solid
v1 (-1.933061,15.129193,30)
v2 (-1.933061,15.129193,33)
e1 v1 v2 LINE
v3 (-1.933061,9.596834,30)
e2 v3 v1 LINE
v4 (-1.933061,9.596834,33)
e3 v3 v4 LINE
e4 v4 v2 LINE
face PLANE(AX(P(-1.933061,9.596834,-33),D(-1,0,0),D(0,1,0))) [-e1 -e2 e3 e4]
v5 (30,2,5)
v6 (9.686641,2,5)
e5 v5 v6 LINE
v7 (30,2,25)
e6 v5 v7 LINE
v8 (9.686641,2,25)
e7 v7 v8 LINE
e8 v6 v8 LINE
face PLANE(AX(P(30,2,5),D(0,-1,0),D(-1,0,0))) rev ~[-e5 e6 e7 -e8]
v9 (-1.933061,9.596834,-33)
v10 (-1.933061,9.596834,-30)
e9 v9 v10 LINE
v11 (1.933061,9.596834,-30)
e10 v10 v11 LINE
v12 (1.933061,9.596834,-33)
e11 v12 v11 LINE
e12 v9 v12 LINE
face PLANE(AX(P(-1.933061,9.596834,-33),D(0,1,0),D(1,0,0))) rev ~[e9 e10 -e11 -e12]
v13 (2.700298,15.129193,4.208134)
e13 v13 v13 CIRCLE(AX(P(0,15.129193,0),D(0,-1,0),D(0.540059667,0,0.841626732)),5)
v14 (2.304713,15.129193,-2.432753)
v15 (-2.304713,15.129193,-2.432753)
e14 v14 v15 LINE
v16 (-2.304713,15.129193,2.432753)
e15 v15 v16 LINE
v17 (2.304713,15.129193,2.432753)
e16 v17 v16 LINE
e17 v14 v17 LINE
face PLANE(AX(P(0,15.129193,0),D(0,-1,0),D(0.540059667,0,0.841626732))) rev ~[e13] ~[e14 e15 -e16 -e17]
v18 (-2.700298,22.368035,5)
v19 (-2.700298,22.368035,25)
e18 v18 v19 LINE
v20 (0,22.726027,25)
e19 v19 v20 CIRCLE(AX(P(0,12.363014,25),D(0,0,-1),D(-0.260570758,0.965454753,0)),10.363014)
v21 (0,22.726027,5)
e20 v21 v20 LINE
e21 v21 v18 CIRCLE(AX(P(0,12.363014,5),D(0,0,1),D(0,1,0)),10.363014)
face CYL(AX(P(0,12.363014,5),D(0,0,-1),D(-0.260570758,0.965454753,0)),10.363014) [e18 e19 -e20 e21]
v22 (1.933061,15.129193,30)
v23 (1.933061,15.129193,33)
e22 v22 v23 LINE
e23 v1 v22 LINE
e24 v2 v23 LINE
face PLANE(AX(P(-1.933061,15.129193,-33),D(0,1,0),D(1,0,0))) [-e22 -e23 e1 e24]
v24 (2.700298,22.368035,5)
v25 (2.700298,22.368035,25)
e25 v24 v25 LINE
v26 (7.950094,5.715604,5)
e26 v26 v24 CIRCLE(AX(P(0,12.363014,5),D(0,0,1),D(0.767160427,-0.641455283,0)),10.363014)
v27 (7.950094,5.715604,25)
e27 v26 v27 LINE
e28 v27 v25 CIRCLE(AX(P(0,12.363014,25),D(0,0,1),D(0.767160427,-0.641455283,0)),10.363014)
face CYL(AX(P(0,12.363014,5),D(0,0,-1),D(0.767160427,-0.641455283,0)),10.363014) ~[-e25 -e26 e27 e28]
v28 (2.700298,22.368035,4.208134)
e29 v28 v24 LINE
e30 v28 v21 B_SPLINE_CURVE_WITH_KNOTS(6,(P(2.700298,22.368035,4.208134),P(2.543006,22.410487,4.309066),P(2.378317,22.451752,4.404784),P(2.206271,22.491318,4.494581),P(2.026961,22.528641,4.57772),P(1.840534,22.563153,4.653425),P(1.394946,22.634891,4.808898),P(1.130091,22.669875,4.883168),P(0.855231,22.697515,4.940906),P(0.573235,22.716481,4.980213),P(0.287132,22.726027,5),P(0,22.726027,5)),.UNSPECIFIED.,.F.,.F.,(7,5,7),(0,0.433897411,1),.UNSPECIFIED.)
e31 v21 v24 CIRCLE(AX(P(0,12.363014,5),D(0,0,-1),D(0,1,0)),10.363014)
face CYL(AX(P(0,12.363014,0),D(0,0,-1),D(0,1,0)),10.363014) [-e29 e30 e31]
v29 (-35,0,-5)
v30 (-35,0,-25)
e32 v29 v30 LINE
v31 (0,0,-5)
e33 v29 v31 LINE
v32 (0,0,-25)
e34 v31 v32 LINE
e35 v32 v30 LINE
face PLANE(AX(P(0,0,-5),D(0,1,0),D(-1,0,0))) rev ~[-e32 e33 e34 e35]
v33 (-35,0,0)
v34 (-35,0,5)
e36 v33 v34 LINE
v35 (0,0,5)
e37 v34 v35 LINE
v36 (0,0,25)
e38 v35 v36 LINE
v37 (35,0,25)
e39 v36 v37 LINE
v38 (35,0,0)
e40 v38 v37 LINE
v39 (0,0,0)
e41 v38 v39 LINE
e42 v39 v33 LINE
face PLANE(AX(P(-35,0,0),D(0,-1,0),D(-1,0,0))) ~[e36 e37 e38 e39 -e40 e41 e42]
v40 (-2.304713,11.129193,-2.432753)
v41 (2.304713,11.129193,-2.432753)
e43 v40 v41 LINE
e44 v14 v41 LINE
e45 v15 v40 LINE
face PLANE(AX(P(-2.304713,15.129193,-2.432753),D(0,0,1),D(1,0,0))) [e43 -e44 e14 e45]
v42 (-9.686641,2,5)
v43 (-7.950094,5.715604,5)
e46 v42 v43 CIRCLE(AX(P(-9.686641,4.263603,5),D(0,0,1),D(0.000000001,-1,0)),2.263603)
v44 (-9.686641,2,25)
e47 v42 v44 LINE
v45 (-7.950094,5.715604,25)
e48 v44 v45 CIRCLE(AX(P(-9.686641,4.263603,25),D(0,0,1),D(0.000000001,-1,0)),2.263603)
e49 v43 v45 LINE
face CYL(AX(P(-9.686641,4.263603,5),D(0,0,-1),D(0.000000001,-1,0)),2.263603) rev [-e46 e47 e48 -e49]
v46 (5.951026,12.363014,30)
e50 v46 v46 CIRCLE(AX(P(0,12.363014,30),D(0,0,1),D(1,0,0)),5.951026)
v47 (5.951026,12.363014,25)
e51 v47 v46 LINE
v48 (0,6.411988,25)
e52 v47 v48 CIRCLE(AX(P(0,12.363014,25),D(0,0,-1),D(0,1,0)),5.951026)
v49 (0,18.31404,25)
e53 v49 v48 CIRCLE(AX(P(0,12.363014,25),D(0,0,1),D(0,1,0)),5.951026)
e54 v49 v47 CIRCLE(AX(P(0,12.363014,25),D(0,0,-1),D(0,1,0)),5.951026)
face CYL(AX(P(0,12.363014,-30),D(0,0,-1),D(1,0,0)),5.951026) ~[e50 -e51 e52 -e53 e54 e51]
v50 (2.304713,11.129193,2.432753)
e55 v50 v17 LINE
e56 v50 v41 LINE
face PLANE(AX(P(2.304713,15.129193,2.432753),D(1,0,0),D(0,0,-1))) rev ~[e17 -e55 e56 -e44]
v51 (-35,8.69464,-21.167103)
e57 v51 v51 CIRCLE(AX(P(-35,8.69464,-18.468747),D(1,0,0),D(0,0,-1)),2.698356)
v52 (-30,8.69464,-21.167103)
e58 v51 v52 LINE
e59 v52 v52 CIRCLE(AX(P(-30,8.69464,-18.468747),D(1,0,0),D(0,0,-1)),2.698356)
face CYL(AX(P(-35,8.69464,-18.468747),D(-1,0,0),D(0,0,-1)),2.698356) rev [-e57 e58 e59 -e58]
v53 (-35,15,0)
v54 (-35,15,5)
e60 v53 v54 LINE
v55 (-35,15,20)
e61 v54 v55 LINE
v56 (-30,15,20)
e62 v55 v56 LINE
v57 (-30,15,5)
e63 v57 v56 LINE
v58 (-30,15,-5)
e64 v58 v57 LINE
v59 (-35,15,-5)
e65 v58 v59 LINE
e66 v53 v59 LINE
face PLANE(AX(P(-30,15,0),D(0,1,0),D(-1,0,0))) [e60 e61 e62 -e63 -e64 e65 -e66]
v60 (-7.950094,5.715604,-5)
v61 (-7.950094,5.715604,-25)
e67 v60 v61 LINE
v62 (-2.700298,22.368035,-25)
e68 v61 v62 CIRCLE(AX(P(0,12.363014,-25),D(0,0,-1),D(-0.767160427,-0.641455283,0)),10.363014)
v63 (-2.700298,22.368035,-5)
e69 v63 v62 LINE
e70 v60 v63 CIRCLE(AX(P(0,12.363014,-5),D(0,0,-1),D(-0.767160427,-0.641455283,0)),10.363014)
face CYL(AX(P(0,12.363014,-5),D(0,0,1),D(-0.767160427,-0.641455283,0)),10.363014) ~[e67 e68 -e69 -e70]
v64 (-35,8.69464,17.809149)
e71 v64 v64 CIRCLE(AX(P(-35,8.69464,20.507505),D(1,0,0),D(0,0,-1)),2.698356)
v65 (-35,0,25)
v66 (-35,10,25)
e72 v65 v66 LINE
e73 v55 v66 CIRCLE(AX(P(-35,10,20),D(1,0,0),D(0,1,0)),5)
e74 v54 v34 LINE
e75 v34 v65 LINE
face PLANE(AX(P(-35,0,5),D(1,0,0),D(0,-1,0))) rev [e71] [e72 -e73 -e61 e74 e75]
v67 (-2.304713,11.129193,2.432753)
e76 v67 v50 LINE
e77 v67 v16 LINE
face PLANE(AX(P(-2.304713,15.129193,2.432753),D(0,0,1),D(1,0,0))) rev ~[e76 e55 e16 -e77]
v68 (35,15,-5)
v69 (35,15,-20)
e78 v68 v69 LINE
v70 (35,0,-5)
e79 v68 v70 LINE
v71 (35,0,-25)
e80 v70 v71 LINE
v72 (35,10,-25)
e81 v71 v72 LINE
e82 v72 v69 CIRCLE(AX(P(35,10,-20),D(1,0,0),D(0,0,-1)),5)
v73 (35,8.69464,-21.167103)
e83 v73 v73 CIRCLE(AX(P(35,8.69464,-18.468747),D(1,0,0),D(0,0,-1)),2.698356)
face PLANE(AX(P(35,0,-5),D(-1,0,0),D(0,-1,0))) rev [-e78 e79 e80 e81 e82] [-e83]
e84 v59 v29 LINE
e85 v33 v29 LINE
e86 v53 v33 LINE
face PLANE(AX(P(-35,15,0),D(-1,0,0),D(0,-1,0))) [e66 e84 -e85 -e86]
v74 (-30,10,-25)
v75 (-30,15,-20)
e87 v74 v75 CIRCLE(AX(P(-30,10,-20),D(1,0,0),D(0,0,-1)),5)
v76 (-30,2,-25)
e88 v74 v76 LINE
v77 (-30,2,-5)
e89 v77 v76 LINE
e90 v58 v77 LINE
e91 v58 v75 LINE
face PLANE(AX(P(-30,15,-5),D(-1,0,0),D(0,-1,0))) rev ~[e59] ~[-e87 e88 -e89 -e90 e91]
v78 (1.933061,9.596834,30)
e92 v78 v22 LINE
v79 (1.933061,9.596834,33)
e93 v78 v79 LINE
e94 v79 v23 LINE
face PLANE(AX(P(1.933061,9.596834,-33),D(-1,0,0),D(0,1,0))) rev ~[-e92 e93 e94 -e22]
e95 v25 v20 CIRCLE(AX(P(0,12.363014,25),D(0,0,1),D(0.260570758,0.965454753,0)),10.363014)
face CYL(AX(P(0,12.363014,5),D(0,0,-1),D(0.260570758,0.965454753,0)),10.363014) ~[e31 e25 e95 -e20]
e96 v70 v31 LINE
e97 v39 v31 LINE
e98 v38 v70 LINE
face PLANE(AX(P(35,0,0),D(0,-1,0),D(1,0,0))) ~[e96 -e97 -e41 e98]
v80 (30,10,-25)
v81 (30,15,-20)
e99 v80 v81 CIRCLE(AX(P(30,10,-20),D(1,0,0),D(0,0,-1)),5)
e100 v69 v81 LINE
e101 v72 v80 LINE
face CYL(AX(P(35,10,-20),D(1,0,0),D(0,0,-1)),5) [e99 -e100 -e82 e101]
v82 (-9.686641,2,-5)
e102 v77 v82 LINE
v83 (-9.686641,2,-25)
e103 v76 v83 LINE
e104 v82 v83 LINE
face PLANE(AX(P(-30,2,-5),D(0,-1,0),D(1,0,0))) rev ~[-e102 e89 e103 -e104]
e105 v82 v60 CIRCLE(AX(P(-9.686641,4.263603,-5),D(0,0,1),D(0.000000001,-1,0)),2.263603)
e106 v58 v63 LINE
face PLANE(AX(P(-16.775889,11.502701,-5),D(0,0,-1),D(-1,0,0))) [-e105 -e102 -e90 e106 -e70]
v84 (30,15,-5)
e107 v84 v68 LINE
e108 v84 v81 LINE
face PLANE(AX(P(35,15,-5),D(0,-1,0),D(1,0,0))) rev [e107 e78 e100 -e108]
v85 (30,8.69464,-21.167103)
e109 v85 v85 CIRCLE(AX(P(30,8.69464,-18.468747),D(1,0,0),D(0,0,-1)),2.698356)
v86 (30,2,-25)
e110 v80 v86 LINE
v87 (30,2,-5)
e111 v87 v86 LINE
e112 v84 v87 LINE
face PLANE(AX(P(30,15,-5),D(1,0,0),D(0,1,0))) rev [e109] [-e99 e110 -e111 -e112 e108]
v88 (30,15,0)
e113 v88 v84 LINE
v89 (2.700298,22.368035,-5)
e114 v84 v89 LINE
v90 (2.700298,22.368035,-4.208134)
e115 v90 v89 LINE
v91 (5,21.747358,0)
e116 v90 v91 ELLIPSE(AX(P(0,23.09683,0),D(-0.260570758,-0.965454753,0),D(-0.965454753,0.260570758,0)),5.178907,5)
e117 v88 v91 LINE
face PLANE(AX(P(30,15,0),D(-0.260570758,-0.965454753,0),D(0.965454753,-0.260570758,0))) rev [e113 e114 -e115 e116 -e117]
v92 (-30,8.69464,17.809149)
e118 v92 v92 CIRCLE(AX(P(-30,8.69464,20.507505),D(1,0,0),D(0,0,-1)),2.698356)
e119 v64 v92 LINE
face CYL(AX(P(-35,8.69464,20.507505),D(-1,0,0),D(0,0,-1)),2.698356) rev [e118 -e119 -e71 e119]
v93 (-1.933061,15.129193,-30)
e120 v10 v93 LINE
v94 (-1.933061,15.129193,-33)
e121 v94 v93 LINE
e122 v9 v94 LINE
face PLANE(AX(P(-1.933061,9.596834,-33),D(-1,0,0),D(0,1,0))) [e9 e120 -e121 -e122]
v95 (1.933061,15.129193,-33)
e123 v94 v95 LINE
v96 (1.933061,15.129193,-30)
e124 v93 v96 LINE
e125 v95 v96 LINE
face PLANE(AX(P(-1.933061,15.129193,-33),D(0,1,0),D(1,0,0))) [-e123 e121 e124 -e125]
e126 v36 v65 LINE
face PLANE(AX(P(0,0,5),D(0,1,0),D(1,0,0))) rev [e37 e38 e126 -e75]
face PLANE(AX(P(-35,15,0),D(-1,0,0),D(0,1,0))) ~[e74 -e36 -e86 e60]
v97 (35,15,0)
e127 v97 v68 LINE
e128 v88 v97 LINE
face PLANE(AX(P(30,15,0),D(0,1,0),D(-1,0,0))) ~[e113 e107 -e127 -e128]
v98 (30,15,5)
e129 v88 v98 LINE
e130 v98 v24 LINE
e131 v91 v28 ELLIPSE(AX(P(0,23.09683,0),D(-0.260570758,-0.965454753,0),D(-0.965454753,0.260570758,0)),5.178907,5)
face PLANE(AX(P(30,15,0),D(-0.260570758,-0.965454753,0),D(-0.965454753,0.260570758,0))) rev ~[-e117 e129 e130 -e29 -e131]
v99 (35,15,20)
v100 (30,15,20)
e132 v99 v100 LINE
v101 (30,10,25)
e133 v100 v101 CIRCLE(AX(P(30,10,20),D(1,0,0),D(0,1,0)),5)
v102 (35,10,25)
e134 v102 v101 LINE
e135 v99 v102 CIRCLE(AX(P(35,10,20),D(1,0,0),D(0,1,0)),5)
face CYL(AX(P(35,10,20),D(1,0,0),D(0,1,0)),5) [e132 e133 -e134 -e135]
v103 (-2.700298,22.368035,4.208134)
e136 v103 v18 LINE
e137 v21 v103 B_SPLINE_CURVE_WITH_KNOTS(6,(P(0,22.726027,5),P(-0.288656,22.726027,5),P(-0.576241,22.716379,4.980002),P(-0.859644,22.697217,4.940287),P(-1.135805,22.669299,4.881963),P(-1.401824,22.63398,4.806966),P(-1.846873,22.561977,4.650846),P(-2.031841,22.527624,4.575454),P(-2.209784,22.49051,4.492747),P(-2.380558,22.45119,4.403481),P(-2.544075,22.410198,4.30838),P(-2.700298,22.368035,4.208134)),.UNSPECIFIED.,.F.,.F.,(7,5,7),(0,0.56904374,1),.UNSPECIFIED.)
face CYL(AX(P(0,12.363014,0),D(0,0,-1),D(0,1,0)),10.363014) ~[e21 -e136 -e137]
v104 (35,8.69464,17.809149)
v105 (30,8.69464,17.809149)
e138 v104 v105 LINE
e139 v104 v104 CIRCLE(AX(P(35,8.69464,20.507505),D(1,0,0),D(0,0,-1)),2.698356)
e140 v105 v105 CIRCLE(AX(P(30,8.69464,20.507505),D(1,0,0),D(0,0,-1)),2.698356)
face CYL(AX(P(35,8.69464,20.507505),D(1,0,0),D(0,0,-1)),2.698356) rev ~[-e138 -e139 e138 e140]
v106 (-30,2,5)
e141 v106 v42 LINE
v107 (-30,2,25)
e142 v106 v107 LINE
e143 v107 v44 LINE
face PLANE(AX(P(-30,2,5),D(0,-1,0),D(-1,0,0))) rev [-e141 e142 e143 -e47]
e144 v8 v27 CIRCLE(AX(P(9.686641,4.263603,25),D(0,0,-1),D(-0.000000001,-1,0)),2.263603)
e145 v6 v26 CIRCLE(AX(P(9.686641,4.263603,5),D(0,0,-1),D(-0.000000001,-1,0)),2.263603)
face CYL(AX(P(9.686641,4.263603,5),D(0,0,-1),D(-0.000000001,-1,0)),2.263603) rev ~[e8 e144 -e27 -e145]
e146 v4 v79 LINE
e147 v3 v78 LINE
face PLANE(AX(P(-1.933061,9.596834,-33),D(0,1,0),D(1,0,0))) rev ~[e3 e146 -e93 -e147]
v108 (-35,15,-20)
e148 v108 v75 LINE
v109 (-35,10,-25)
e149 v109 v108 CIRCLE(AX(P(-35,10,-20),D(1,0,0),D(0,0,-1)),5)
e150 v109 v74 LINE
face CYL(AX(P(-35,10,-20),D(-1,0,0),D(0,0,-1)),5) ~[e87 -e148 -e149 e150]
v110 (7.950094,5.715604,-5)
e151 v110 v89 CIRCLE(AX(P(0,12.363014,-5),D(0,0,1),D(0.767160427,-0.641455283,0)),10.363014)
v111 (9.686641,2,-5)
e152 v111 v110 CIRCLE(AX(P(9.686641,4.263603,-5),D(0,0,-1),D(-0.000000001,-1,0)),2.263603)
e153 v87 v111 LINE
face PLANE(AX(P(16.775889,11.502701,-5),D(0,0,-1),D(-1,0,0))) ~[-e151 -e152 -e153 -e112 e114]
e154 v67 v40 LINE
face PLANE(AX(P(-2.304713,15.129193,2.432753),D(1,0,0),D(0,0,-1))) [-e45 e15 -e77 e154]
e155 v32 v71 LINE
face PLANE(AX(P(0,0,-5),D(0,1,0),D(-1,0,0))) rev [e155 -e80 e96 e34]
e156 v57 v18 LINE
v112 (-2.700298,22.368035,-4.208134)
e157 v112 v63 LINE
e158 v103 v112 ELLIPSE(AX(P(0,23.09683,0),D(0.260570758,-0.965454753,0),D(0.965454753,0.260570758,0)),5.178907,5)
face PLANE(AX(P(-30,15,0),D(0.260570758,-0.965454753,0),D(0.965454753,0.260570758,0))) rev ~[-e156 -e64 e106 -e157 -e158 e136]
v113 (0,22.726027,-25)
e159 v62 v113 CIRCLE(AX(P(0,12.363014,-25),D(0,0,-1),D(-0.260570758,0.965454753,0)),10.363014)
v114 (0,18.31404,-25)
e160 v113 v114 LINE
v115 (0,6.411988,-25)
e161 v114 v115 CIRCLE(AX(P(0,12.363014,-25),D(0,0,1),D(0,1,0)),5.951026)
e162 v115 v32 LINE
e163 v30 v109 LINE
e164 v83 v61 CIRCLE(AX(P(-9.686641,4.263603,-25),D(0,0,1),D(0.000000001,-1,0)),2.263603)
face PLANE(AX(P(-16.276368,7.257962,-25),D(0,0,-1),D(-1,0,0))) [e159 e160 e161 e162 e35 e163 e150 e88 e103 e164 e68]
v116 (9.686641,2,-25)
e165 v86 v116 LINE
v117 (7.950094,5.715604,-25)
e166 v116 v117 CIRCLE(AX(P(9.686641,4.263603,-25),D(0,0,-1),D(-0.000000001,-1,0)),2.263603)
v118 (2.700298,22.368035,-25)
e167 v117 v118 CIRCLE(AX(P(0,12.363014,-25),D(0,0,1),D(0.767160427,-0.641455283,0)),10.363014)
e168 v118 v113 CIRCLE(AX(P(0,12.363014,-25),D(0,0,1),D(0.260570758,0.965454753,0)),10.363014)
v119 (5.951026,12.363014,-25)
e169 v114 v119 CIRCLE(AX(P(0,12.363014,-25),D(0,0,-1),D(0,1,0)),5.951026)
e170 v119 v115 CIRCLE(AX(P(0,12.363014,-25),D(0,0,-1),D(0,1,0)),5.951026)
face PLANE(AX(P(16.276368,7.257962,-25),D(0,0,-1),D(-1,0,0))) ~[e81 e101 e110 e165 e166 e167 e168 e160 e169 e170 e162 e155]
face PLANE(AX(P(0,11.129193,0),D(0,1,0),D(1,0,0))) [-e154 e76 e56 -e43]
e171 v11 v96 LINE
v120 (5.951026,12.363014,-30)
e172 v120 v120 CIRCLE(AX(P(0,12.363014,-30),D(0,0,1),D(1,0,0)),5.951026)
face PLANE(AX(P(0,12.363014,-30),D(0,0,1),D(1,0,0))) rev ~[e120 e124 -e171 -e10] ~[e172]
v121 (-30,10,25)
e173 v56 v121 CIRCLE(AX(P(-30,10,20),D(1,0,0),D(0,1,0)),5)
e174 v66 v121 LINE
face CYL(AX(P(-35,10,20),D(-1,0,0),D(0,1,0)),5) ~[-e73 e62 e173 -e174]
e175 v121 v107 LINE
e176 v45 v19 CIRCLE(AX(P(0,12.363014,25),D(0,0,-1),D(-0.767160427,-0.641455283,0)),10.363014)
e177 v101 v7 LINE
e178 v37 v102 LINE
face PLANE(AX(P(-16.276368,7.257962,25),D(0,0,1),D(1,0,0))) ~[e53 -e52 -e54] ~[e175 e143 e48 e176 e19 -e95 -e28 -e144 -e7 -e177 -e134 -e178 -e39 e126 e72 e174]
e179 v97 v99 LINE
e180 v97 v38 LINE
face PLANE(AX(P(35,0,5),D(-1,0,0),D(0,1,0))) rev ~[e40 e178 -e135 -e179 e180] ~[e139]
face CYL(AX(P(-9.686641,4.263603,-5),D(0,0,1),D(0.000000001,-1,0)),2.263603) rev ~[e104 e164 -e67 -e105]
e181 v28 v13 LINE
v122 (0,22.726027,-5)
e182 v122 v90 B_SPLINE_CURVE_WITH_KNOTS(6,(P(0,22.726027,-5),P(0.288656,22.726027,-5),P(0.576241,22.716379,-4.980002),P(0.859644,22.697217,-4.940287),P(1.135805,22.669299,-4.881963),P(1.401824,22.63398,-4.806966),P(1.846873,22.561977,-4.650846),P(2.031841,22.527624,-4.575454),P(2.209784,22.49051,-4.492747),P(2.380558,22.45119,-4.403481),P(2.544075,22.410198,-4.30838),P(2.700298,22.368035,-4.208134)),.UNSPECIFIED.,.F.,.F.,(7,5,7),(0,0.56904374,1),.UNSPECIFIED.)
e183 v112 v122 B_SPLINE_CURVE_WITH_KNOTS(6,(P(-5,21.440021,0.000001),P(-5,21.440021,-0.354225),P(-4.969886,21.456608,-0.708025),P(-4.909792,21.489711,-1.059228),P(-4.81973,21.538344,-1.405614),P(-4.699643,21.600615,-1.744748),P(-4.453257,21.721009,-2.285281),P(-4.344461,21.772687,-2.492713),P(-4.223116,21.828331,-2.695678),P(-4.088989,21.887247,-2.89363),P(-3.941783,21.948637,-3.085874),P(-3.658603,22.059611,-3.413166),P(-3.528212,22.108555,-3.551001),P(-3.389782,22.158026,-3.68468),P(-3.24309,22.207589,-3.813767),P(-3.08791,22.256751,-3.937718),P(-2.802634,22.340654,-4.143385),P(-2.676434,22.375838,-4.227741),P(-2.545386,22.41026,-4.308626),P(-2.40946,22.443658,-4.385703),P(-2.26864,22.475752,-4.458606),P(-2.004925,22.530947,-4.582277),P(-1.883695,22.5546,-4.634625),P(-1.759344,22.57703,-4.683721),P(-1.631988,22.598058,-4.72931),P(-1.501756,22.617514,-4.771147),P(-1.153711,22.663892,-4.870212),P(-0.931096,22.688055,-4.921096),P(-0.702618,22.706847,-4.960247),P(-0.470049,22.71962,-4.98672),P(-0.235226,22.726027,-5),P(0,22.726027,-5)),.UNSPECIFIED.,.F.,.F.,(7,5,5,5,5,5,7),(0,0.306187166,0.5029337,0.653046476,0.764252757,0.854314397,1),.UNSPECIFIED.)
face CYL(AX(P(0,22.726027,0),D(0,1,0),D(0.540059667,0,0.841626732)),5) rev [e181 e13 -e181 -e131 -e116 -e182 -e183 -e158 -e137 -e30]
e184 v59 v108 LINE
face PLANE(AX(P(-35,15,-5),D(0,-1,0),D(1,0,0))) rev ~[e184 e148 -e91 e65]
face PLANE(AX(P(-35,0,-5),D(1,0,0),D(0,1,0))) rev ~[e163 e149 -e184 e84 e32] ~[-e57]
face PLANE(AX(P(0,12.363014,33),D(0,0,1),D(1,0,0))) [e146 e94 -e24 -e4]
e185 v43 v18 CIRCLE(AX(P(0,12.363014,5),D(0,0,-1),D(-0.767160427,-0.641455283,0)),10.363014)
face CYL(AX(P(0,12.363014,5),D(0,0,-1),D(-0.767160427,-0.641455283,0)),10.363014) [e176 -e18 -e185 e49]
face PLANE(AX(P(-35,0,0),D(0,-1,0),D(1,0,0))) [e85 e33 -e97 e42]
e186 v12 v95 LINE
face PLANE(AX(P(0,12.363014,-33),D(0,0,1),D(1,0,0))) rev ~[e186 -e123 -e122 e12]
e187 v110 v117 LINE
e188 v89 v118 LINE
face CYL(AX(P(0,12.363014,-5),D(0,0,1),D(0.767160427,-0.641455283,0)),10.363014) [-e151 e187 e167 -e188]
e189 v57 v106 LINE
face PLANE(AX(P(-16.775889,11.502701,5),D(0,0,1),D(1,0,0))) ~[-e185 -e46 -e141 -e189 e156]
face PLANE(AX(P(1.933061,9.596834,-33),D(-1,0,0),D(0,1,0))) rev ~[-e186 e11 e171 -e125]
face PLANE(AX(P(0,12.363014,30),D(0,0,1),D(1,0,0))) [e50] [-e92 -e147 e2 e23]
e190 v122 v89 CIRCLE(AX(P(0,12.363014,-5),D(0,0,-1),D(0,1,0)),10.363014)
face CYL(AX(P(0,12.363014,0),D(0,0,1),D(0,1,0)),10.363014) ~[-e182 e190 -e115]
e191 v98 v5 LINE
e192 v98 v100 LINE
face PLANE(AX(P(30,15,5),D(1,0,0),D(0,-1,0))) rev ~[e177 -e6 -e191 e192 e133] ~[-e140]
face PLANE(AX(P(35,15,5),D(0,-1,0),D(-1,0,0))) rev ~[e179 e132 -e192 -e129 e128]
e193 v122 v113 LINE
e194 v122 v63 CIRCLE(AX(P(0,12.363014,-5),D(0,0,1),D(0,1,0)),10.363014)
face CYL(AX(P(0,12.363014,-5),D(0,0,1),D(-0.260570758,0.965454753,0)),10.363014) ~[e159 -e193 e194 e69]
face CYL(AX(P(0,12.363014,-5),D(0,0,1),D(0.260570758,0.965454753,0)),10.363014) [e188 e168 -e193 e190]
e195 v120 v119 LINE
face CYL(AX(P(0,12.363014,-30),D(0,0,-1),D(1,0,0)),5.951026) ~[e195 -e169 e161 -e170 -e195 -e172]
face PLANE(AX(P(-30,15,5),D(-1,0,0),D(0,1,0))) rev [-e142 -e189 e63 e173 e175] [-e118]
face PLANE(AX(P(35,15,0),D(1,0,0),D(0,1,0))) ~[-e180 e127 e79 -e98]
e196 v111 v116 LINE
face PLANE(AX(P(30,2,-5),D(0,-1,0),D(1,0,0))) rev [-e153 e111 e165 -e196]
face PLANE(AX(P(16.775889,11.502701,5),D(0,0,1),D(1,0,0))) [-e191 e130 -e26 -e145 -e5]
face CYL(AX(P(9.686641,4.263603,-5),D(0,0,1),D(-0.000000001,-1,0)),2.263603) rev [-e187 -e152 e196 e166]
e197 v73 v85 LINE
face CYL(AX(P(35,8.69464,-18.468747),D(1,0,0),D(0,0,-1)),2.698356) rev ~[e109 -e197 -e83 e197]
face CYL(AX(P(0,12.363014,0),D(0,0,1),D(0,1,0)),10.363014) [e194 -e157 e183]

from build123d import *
from build123d.topology import SkipClean

# Parameters (mm, degrees)
BOSS_EXTRUDE1_DEPTH      = 5
BOSS_EXTRUDE2_DEPTH      = 20
MIRROR3_COPY_1_DEPTH     = 5
MIRROR3_COPY_2_DEPTH     = 20
SKETCH4_R                = 2.698355907
CUT_EXTRUDE1_DEPTH       = 5
BOSS_EXTRUDE3_DEPTH      = 5
BOSS_EXTRUDE3_DEPTH_BACK = 55
SKETCH8_R                = 5.951026126
SKETCH8_W                = 3.866122338
SKETCH8_H                = 5.532358837
BOSS_EXTRUDE5_DEPTH      = 3
BOSS_EXTRUDE5_DEPTH_BACK = 63
SKETCH10_W               = 3.866122338
SKETCH10_H               = 5.532358837
SKETCH12_R               = 5
CUT_EXTRUDE3_DEPTH       = 7.59683428
SKETCH14_W               = 4.609426796
SKETCH14_H               = 4.865506062
CUT_EXTRUDE6_DEPTH       = 4


with BuildPart() as part:
    # Sketch1 → Boss-Extrude1 (new body)
    with BuildSketch(Plane.XY):
        with BuildLine():
            Line((30, 2), (30, 15))
            Line((30, 15), (2.700298335, 22.368034529))
            ThreePointArc((2.700298335, 22.368034529), (9.883500212, 15.478856519), (7.950094011, 5.715603818))
            ThreePointArc((7.950094011, 5.715603818), (7.635951646, 3.305180914), (9.686640989, 2))
            Line((9.686640989, 2), (30, 2))
        make_face()
        with BuildLine():
            ThreePointArc((7.950094011, 5.715603818), (7.635951646, 3.305180914), (9.686640989, 2))
            Line((9.686640989, 2), (30, 2))
            Line((30, 2), (30, 15))
            Line((30, 15), (35, 15))
            Line((35, 15), (35, 0))
            Line((35, 0), (0, 0))
            Line((0, 0), (0, 2))
            Line((0, 2), (0, 6.411987573))
            ThreePointArc((0, 6.411987573), (5.951026126, 12.363013699), (0, 18.314039825))
            Line((0, 18.314039825), (0, 22.726027397))
            ThreePointArc((0, 22.726027397), (9.388270676, 16.750772424), (7.950094011, 5.715603818))
        make_face()
    boss_extrude1 = extrude(amount=BOSS_EXTRUDE1_DEPTH)

    # Sketch3 → Boss-Extrude2 (add)
    with BuildSketch(Plane.XY.offset(5)):
        with BuildLine():
            ThreePointArc((7.950094011, 5.715603818), (9.883500212, 15.478856519), (2.700298335, 22.368034529))
            ThreePointArc((2.700298335, 22.368034529), (1.361962737, 22.636139339), (0, 22.726027397))
            Line((0, 22.726027397), (0, 18.314039825))
            ThreePointArc((0, 18.314039825), (5.951026126, 12.363013699), (0, 6.411987573))
            Line((0, 6.411987573), (0, 2))
            Line((0, 2), (0, 0))
            Line((0, 0), (35, 0))
            Line((35, 0), (35, 15))
            Line((35, 15), (30, 15))
            Line((30, 15), (30, 2))
            Line((30, 2), (9.686640989, 2))
            ThreePointArc((9.686640989, 2), (7.635951646, 3.305180914), (7.950094011, 5.715603818))
        make_face()
    boss_extrude2 = extrude(amount=BOSS_EXTRUDE2_DEPTH)

    # Mirror2: Boss-Extrude1, Boss-Extrude2 across plane
    add(boss_extrude1.mirror(Plane.ZY))
    add(boss_extrude2.mirror(Plane.ZY))

    # Mirror3: Boss-Extrude1, Boss-Extrude2 across Front Plane
    with SkipClean():  # the faces are left unmerged after this step: merging them gives an invalid solid
        add(boss_extrude1.mirror(Plane.XY))
        add(boss_extrude2.mirror(Plane.XY))

    # Mirror3 copy 1 sketch → Mirror3 copy 1 (add)
    with BuildSketch(Plane(origin=(0, 0, 0), x_dir=(-1, 0, 0), z_dir=(0, 0, -1))):
        with BuildLine():
            Line((30, 2), (30, 15))
            Line((30, 15), (2.700298335, 22.368034529))
            ThreePointArc((2.700298335, 22.368034529), (9.883500212, 15.478856519), (7.950094011, 5.715603818))
            ThreePointArc((7.950094011, 5.715603818), (7.635951646, 3.305180914), (9.686640989, 2))
            Line((9.686640989, 2), (30, 2))
        make_face()
        with BuildLine():
            ThreePointArc((7.950094011, 5.715603818), (7.635951646, 3.305180914), (9.686640989, 2))
            Line((9.686640989, 2), (30, 2))
            Line((30, 2), (30, 15))
            Line((30, 15), (35, 15))
            Line((35, 15), (35, 0))
            Line((35, 0), (0, 0))
            Line((0, 0), (0, 2))
            Line((0, 2), (0, 6.411987573))
            ThreePointArc((0, 6.411987573), (5.951026126, 12.363013699), (0, 18.314039825))
            Line((0, 18.314039825), (0, 22.726027397))
            ThreePointArc((0, 22.726027397), (9.388270676, 16.750772424), (7.950094011, 5.715603818))
        make_face()
    extrude(amount=MIRROR3_COPY_1_DEPTH)

    # Mirror3 copy 2 sketch → Mirror3 copy 2 (add)
    with SkipClean():  # the faces are left unmerged after this step: merging them gives an invalid solid
        with BuildSketch(Plane(origin=(0, 0, -5), x_dir=(-1, 0, 0), z_dir=(0, 0, -1))):
            with BuildLine():
                ThreePointArc((7.950094011, 5.715603818), (9.883500212, 15.478856519), (2.700298335, 22.368034529))
                ThreePointArc((2.700298335, 22.368034529), (1.361962737, 22.636139339), (0, 22.726027397))
                Line((0, 22.726027397), (0, 18.314039825))
                ThreePointArc((0, 18.314039825), (5.951026126, 12.363013699), (0, 6.411987573))
                Line((0, 6.411987573), (0, 2))
                Line((0, 2), (0, 0))
                Line((0, 0), (35, 0))
                Line((35, 0), (35, 15))
                Line((35, 15), (30, 15))
                Line((30, 15), (30, 2))
                Line((30, 2), (9.686640989, 2))
                ThreePointArc((9.686640989, 2), (7.635951646, 3.305180914), (7.950094011, 5.715603818))
            make_face()
        extrude(amount=MIRROR3_COPY_2_DEPTH)

    # Sketch4 → Cut-Extrude1 (cut)
    with SkipClean():  # the faces are left unmerged after this step: merging them gives an invalid solid
        with BuildSketch(Plane(origin=(35, 0, 0), x_dir=(0, 0, -1), z_dir=(1, 0, 0))):
            with Locations((-20.507504892, 8.694639524)):
                Circle(SKETCH4_R)
            with Locations((18.468747096, 8.694639524)):
                Circle(SKETCH4_R)
            with BuildLine():
                Line((-25, 10), (-27.403303321, 11.153141573))
                Line((-27.403303321, 11.153141573), (-26.20165166, 17.389341891))
                Line((-26.20165166, 17.389341891), (-20, 16.194347401))
                Line((-20, 16.194347401), (-20, 15))
                ThreePointArc((-20, 15), (-23.535533906, 13.535533906), (-25, 10))
            make_face()
            with BuildLine():
                Line((20, 15), (20.74735875, 17.389341891))
                Line((20.74735875, 17.389341891), (31.360891984, 16.194670945))
                Line((31.360891984, 16.194670945), (27.103485998, 9.174347241))
                Line((27.103485998, 9.174347241), (25, 10))
                ThreePointArc((25, 10), (23.535533906, 13.535533906), (20, 15))
            make_face()
        cut_extrude1 = extrude(amount=-CUT_EXTRUDE1_DEPTH, mode=Mode.SUBTRACT)

    # Mirror4: Cut-Extrude1 across plane
    with SkipClean():  # the faces are left unmerged after this step: merging them gives an invalid solid
        add(cut_extrude1.mirror(Plane.ZY), mode=Mode.SUBTRACT)

    # Sketch8 → Boss-Extrude3 (add, two sides: drawn at the far end of the back side and taken through both)
    with SkipClean():  # the faces are left unmerged after this step: merging them gives an invalid solid
        with BuildSketch(Plane.XY.offset(25).offset(-BOSS_EXTRUDE3_DEPTH_BACK)):
            with Locations((0, 12.363013699)):
                Circle(SKETCH8_R)
            with Locations((0, 12.363013699)):
                Rectangle(SKETCH8_W, SKETCH8_H, mode=Mode.SUBTRACT)
        extrude(amount=BOSS_EXTRUDE3_DEPTH + BOSS_EXTRUDE3_DEPTH_BACK)

    # Sketch10 → Boss-Extrude5 (add, two sides: drawn at the far end of the back side and taken through both)
    with SkipClean():  # the faces are left unmerged after this step: merging them gives an invalid solid
        with BuildSketch(Plane.XY.offset(30).offset(-BOSS_EXTRUDE5_DEPTH_BACK)):
            with Locations((0, 12.363013699)):
                Rectangle(SKETCH10_W, SKETCH10_H)
        extrude(amount=BOSS_EXTRUDE5_DEPTH + BOSS_EXTRUDE5_DEPTH_BACK)

    # Sketch12 → Cut-Extrude3 (cut)
    with SkipClean():  # the faces are left unmerged after this step: merging them gives an invalid solid
        with BuildSketch(Plane.XZ.offset(-22.726027397)):
            with Locations(Location((0, 0, 0), (0, 0, 57.312299274))):
                Circle(SKETCH12_R)
        extrude(amount=CUT_EXTRUDE3_DEPTH, mode=Mode.SUBTRACT)

    # Sketch14 → Cut-Extrude6 (cut, symmetric)
    with SkipClean():  # the faces are left unmerged after this step: merging them gives an invalid solid
        with BuildSketch(Plane(origin=(0, 15.129193117, 0), x_dir=(1, 0, 0), z_dir=(0, 1, 0))):
            Rectangle(SKETCH14_W, SKETCH14_H)
        extrude(amount=CUT_EXTRUDE6_DEPTH, both=True, mode=Mode.SUBTRACT)


solid = part.part
